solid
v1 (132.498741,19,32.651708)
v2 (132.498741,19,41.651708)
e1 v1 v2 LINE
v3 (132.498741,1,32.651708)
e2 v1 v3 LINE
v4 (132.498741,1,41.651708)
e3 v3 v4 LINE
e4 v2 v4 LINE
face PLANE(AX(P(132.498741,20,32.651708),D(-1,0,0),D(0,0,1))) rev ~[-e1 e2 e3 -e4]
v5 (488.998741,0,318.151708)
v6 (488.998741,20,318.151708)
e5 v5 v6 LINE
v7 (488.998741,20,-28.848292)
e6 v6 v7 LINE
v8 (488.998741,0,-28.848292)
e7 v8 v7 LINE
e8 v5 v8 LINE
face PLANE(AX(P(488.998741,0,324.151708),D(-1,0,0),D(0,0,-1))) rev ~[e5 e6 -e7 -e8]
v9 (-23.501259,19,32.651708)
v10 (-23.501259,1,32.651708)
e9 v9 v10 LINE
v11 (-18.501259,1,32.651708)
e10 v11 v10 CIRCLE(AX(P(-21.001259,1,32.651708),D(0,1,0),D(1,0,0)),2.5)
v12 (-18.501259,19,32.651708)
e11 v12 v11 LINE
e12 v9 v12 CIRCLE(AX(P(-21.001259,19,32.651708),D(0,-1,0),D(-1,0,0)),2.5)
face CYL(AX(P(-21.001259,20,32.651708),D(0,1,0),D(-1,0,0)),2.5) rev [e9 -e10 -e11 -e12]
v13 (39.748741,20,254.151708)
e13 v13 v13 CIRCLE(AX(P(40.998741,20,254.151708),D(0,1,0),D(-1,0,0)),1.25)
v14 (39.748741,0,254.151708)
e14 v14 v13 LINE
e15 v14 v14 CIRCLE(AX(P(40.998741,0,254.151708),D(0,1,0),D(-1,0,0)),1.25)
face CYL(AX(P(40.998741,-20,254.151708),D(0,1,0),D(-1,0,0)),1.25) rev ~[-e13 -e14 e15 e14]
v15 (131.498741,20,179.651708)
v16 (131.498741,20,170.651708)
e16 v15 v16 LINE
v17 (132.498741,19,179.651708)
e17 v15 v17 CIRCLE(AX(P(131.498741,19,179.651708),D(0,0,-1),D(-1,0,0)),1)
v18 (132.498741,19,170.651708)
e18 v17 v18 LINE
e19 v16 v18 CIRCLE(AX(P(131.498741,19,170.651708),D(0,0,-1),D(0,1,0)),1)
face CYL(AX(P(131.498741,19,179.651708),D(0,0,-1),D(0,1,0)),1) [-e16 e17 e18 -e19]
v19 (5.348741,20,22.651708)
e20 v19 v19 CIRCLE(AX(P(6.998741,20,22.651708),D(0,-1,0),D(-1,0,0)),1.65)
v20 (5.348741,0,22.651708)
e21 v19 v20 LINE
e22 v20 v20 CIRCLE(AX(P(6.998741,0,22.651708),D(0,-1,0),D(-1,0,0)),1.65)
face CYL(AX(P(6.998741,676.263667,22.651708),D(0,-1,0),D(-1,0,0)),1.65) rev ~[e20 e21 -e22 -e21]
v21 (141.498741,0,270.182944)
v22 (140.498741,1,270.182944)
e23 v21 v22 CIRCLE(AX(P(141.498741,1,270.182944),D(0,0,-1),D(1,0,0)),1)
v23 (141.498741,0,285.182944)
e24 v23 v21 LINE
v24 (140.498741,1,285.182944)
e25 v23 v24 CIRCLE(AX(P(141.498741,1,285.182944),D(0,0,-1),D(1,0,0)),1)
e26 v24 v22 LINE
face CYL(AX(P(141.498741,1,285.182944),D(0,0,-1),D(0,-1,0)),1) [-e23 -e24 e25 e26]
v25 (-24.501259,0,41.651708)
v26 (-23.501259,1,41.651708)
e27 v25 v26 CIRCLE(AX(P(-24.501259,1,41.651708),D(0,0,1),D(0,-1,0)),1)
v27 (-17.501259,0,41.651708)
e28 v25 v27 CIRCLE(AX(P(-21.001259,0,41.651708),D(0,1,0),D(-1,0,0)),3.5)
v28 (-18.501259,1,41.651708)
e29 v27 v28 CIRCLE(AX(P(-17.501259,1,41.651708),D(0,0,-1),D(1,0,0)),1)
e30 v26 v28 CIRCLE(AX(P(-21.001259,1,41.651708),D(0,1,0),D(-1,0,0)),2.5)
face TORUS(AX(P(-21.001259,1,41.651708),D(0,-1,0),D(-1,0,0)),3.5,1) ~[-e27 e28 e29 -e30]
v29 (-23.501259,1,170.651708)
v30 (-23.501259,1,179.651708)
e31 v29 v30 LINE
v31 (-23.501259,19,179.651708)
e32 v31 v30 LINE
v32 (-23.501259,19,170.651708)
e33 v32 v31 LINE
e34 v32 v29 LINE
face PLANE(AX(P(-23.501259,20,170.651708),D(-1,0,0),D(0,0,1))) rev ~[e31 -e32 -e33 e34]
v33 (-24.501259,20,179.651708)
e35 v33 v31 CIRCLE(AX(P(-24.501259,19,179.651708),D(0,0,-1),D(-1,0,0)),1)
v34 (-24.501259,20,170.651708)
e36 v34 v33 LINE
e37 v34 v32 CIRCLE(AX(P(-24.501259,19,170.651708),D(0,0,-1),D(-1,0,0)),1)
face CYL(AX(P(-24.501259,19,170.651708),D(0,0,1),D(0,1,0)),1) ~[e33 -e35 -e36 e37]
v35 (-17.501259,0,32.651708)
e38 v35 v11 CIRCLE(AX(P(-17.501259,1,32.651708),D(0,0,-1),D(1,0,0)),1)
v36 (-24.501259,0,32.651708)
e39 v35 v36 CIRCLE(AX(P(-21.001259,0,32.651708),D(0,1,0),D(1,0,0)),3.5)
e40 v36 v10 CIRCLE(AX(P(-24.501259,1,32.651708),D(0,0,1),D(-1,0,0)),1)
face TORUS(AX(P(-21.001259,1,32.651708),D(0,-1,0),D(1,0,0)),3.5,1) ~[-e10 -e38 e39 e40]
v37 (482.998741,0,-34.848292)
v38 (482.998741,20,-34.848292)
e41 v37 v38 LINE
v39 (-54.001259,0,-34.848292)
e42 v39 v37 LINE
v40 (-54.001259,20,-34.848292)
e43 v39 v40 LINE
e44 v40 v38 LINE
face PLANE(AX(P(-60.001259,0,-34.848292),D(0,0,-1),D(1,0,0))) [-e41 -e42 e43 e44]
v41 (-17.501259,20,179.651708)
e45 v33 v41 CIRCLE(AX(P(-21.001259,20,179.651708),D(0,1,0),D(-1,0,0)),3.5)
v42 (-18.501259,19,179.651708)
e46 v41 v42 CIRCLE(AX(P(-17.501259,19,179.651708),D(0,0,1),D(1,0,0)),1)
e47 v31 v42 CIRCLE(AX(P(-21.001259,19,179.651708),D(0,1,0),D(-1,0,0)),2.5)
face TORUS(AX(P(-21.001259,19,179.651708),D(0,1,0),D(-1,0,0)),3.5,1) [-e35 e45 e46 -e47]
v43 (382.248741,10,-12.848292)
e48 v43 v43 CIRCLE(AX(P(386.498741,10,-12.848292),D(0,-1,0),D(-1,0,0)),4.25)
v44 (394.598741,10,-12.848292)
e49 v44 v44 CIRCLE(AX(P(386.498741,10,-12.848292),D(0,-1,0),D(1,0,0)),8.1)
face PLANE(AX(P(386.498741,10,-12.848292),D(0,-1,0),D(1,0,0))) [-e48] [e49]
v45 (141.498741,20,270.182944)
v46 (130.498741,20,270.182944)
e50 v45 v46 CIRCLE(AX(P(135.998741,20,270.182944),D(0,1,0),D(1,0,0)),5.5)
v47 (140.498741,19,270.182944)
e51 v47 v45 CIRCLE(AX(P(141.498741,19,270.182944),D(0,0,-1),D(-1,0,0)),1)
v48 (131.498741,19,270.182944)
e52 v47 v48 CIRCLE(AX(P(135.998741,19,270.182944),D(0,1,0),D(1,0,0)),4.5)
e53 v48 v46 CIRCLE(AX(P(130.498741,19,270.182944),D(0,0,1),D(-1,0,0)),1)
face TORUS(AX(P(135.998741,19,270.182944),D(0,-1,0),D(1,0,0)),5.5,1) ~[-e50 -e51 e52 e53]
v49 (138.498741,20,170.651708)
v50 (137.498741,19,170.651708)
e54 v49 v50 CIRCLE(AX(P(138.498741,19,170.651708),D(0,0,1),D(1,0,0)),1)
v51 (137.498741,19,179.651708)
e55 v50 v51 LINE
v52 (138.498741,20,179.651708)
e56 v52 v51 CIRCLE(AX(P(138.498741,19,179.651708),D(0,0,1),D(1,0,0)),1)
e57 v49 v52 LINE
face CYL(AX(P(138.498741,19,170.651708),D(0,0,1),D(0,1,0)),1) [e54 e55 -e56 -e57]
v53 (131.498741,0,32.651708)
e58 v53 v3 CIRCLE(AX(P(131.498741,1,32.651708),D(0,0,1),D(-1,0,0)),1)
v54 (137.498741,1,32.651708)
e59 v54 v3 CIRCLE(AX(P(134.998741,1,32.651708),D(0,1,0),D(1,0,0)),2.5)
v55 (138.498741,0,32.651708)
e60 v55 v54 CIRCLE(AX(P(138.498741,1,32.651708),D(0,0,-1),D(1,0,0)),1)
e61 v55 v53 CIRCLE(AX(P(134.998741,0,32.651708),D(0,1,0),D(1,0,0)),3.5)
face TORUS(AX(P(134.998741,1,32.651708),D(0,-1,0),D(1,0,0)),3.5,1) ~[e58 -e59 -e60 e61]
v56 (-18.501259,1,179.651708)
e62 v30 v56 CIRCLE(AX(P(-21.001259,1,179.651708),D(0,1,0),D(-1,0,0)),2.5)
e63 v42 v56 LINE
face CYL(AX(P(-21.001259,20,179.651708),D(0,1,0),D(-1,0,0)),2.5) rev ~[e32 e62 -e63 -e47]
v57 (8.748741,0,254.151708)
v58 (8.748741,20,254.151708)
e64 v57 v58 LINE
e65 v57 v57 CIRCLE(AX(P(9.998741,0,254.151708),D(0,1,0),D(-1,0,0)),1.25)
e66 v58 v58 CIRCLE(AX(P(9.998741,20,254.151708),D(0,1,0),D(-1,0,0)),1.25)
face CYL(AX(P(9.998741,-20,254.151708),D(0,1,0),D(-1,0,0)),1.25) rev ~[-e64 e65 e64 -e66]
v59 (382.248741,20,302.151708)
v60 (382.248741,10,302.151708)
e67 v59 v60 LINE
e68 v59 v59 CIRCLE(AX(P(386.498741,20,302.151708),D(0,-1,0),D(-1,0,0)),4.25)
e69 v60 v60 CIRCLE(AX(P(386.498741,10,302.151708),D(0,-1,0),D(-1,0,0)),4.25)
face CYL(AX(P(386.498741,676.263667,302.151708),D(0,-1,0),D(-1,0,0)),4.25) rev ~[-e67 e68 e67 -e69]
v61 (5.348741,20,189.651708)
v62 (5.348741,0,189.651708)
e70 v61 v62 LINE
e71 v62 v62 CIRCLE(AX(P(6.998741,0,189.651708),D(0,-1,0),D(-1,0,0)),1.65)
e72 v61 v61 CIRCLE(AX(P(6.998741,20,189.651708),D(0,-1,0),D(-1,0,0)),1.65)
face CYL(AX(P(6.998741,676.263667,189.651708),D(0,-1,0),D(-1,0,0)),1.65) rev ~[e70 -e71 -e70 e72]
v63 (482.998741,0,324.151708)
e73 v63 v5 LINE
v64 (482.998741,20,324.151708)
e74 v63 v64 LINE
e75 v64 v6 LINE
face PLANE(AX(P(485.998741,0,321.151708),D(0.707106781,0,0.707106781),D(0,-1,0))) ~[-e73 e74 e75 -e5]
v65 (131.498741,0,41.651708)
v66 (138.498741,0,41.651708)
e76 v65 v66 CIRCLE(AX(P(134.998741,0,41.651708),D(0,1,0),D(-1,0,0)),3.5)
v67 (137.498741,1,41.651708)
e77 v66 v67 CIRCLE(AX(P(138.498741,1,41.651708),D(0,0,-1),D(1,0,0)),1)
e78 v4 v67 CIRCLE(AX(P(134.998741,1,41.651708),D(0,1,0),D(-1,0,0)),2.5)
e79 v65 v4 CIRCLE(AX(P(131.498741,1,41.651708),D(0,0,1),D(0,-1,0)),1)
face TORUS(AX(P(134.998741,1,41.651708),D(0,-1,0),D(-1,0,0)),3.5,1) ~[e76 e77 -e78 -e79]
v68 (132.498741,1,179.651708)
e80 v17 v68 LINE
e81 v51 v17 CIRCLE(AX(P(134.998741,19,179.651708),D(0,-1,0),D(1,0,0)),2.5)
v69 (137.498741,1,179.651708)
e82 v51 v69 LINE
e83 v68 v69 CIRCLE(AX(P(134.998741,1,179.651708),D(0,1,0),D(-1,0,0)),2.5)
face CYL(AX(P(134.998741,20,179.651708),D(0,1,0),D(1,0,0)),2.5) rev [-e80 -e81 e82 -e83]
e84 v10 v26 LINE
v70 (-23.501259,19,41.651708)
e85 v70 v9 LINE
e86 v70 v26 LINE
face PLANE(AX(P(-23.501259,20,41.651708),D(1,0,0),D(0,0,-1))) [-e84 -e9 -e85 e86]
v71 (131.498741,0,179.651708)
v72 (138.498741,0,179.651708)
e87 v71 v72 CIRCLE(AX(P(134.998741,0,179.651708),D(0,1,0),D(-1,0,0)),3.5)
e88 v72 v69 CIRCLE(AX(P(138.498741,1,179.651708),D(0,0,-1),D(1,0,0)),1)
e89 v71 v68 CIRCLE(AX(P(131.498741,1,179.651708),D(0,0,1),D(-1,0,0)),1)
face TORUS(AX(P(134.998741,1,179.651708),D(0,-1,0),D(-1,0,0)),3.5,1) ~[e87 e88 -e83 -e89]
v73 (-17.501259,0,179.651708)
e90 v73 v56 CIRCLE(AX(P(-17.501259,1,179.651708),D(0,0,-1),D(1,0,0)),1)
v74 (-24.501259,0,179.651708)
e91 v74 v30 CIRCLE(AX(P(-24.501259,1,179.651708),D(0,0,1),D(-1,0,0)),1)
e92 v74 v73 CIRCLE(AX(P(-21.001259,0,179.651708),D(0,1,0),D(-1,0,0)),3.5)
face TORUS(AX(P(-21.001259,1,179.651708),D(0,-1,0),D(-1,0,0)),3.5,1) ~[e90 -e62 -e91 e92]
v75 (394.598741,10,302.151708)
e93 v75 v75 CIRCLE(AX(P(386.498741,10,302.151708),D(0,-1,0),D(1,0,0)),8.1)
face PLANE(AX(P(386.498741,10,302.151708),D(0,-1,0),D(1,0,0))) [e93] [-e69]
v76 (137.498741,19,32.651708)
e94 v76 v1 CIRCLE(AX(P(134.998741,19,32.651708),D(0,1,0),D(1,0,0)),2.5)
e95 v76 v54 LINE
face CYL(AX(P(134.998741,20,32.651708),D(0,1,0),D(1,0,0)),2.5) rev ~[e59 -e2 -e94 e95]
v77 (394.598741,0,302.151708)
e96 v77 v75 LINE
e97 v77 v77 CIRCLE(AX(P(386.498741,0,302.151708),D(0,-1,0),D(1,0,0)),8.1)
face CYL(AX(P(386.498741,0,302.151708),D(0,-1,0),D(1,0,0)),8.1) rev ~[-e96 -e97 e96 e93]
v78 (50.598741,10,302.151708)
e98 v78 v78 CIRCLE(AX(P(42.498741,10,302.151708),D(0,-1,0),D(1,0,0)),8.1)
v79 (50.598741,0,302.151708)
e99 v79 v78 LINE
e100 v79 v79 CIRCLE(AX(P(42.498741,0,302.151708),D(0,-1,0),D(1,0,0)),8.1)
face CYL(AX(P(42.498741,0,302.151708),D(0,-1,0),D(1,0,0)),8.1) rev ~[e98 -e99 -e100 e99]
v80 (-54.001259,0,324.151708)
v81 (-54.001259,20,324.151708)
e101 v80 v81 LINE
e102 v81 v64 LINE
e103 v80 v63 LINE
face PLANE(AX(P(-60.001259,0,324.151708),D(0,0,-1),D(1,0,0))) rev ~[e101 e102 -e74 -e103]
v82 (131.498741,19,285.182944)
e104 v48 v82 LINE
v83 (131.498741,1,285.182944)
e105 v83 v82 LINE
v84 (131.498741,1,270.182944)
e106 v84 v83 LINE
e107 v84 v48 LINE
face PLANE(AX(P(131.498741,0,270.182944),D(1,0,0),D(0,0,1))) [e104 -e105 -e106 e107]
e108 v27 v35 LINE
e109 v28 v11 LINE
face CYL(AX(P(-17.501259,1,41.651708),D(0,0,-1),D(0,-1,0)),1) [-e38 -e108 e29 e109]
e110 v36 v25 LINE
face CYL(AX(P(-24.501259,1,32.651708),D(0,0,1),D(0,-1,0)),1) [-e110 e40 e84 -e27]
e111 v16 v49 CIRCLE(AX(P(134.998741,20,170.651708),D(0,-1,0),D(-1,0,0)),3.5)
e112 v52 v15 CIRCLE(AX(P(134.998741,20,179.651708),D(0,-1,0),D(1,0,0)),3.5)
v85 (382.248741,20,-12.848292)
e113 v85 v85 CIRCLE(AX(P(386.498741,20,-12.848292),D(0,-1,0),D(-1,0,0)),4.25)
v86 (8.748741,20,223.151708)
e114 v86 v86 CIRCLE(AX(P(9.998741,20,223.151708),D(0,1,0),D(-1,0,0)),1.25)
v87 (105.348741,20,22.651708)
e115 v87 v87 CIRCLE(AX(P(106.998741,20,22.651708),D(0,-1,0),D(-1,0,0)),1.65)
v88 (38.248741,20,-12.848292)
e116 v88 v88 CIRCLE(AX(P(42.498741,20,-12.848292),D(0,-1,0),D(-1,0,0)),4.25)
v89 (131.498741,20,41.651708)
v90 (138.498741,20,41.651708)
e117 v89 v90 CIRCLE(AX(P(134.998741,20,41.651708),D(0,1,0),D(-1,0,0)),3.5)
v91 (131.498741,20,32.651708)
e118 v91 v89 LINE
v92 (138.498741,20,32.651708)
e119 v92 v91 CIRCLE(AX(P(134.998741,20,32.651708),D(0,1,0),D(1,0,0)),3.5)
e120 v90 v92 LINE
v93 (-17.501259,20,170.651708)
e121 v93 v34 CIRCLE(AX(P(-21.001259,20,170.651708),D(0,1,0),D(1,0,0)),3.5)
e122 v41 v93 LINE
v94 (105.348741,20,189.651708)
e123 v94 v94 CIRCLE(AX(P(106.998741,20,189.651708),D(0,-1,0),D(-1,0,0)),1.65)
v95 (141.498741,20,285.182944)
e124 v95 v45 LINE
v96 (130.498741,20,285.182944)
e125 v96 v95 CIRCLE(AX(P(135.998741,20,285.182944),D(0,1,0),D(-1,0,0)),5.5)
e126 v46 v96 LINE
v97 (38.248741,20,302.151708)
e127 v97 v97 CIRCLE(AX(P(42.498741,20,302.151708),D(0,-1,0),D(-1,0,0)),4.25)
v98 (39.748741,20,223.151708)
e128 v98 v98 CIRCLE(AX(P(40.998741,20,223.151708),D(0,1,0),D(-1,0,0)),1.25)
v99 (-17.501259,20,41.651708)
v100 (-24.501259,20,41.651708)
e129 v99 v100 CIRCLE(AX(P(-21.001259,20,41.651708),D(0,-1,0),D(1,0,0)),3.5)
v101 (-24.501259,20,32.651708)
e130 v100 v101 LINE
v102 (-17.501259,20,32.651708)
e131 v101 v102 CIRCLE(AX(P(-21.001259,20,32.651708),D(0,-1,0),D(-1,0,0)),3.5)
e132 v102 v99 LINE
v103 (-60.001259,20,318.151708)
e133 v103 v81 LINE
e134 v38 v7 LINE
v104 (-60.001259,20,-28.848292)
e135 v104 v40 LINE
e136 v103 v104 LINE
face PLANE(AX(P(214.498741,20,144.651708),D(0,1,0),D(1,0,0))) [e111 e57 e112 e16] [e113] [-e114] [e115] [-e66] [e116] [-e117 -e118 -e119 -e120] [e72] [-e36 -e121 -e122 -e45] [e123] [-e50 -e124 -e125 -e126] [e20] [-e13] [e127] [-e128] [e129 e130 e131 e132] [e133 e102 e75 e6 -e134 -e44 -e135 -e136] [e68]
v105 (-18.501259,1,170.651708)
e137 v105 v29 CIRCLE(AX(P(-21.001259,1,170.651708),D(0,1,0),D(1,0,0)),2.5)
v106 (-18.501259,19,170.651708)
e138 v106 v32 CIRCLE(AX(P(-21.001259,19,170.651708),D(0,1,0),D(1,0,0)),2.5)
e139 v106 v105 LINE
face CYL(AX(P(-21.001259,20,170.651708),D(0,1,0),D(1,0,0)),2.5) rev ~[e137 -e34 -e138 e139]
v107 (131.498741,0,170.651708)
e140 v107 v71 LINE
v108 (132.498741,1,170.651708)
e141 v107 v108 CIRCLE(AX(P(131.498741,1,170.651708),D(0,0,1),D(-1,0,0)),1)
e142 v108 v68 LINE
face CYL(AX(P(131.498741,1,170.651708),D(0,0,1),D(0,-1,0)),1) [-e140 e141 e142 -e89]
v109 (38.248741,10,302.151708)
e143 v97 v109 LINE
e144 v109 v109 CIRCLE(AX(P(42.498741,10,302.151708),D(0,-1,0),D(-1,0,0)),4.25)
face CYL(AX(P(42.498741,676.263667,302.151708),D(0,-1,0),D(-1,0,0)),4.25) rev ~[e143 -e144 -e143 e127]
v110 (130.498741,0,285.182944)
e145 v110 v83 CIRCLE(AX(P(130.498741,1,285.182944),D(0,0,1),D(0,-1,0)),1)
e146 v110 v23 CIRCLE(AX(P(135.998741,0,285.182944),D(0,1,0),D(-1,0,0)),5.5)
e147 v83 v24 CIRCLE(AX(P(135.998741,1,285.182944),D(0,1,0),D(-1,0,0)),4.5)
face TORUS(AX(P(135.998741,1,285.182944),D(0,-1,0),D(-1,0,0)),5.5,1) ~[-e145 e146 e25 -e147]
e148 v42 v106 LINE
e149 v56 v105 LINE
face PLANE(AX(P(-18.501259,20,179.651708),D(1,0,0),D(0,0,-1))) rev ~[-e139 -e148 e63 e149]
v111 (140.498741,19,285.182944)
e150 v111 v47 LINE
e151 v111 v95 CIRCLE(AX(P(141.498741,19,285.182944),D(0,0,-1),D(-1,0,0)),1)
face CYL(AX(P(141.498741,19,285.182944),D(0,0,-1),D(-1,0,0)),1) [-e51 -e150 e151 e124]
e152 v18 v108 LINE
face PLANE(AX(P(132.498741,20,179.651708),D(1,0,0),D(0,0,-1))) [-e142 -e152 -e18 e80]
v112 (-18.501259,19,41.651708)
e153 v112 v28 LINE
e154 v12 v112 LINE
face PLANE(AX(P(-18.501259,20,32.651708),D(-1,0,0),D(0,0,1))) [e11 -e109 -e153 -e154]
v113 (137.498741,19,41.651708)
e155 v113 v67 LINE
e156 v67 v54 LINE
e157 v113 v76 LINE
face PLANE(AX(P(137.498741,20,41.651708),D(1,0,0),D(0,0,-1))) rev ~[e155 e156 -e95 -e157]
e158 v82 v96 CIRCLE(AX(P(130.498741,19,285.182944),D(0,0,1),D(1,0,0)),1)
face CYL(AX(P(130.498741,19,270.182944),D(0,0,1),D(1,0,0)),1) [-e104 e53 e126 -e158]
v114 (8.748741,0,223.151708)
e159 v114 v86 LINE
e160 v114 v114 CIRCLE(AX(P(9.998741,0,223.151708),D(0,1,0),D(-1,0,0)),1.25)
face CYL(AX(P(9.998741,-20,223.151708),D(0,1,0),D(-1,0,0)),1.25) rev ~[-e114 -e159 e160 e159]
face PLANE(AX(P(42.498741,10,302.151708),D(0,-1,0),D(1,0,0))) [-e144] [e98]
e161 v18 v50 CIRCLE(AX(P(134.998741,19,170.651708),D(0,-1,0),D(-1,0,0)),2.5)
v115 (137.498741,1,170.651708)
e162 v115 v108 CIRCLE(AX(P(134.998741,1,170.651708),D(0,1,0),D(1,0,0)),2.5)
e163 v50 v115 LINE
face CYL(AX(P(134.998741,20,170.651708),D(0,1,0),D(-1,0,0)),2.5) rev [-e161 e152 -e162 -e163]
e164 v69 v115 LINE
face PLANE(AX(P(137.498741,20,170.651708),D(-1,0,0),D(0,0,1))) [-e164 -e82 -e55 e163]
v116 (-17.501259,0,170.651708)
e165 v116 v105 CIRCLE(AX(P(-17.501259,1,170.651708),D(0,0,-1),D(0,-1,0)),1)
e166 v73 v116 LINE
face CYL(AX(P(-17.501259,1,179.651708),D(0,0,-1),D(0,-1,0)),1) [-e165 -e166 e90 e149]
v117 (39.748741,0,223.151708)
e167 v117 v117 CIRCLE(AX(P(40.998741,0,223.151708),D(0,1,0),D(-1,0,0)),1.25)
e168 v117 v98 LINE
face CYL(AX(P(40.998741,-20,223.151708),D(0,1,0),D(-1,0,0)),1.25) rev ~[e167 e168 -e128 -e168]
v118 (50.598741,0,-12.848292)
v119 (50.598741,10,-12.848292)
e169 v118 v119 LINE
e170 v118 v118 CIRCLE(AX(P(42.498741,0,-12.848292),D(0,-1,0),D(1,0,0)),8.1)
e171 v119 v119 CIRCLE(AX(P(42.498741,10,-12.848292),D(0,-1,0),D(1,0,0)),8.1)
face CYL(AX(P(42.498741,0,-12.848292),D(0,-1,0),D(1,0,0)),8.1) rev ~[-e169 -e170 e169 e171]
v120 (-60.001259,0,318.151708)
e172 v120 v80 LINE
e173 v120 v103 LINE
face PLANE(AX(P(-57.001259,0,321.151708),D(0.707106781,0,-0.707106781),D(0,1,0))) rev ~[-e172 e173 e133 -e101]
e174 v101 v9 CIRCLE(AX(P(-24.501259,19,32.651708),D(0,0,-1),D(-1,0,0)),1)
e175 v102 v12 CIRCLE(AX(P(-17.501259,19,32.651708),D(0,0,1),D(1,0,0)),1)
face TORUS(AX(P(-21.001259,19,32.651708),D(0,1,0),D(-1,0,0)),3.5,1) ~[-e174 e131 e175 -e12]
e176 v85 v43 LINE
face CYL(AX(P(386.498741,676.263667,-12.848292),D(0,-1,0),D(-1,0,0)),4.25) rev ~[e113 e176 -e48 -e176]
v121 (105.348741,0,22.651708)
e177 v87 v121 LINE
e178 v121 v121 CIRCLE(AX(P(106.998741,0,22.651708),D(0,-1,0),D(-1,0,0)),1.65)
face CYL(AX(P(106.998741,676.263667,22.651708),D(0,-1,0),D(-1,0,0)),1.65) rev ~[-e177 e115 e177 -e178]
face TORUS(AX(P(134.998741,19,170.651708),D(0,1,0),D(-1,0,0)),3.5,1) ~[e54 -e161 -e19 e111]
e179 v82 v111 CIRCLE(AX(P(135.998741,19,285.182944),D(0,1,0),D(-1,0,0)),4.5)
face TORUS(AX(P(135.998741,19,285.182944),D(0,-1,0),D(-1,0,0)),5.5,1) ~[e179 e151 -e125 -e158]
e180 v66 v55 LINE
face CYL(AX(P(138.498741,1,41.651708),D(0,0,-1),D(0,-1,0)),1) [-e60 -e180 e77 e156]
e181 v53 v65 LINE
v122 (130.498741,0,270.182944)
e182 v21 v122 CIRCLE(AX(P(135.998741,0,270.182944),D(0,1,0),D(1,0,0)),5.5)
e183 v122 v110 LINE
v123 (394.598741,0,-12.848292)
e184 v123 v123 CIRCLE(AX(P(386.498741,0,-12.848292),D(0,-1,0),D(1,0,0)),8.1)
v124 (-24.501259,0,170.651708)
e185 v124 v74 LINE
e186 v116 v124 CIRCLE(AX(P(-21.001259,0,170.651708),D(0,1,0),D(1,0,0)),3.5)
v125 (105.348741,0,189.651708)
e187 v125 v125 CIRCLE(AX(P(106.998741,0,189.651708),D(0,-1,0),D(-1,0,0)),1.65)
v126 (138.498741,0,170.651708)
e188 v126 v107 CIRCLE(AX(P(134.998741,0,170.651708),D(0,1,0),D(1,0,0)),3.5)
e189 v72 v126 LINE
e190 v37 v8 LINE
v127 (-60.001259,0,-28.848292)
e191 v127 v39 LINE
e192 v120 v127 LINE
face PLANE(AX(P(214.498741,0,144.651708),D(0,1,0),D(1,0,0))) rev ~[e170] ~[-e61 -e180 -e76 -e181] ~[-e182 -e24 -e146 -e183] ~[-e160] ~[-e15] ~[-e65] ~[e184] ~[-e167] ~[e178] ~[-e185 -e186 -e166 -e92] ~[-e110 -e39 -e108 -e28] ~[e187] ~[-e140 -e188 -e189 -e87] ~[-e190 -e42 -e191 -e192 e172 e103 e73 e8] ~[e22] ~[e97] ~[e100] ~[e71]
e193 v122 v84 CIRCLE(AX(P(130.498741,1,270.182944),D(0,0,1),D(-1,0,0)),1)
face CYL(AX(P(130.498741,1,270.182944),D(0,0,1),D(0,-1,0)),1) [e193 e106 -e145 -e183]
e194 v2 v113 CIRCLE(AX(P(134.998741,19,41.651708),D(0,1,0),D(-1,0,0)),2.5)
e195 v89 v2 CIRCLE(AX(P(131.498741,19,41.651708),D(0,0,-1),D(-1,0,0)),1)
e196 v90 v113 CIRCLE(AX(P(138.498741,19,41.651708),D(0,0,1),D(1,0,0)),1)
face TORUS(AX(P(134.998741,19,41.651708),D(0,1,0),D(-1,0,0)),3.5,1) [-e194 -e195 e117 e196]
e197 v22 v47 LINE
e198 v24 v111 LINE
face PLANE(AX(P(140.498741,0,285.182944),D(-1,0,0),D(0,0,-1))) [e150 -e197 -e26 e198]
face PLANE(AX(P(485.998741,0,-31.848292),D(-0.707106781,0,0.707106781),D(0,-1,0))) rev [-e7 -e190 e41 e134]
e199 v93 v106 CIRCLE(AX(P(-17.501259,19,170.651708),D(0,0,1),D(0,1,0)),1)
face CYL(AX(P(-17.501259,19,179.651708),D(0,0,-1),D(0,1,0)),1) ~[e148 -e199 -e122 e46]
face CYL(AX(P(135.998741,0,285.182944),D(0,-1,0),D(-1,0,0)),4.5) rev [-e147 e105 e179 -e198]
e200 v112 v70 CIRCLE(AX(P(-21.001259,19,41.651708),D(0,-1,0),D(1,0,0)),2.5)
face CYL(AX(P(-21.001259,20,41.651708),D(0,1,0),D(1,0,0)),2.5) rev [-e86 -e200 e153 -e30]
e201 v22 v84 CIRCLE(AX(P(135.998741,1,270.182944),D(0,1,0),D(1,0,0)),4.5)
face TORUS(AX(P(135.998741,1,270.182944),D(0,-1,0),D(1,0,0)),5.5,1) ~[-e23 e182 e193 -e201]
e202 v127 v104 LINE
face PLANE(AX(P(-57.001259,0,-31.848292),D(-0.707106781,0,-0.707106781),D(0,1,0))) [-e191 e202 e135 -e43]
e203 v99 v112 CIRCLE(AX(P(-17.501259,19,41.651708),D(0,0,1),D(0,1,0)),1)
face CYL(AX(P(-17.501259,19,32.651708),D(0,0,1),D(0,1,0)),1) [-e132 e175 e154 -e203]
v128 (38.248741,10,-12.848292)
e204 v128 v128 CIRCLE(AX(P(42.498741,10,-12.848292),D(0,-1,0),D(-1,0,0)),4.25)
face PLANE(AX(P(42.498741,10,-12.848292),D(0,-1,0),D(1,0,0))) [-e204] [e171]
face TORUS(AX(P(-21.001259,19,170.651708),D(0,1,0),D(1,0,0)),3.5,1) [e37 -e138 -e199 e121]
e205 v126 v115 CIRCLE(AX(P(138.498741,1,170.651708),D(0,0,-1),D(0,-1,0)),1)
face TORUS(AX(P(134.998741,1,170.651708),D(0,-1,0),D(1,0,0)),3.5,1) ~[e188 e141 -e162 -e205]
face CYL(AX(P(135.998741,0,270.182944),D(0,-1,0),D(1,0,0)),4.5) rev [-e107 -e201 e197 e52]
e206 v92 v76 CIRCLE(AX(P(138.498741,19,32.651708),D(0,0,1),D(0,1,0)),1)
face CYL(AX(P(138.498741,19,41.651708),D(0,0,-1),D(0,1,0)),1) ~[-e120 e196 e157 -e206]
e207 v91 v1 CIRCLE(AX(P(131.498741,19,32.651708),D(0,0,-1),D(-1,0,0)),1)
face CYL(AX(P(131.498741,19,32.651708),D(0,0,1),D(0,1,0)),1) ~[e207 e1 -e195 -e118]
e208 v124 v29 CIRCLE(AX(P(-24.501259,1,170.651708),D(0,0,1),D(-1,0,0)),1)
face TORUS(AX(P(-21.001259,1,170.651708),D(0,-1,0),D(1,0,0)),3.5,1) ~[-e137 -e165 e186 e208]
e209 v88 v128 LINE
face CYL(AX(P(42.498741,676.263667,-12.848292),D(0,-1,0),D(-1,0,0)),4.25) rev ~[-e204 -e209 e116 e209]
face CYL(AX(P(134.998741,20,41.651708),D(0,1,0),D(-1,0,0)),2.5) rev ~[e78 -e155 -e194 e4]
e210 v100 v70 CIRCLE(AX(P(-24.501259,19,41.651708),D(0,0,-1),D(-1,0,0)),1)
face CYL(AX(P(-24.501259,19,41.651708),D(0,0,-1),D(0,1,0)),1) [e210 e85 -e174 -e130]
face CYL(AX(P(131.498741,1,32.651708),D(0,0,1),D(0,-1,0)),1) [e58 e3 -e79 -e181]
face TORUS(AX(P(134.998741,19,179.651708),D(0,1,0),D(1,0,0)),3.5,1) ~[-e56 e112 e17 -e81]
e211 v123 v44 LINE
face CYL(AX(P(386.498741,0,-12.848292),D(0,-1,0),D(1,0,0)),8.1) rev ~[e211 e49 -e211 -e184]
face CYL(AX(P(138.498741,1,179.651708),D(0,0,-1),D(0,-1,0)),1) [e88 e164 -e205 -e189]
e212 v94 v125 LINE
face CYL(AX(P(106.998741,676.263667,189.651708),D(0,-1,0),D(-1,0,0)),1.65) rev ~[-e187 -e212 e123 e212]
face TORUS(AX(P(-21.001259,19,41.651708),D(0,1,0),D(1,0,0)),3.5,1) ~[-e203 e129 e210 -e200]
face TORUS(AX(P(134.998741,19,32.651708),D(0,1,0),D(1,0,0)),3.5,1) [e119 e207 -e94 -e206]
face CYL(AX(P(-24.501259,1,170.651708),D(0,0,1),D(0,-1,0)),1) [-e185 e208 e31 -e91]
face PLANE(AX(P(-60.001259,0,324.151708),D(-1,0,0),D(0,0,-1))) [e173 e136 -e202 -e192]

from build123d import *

# Parameters (mm, degrees)
SKETCH_1_W               = 549
SKETCH_1_H               = 359
EXTRUDE_1_DEPTH          = 20
HOLE_WIZARD_M10_1_D      = 8.5
HOLE_WIZARD_M4_1_D       = 3.3
CUT_EXTRUDE_1_DEPTH      = 1
CUT_EXTRUDE_1_DEPTH_BACK = 21
CHAMFER_1_SIZE           = 6
FILLET_2_R               = 1
CUT_EXTRUDE_4_DEPTH      = 20
HOLE_WIZARD_M3_2_D       = 2.5
HOLE_WIZARD_M3_2_DEPTH   = 20
FILLET_4_R               = 1
SKETCH_20_R              = 8.1
CUT_EXTRUDE_5_DEPTH      = 10


with BuildPart() as part:
    # 草图1 → 凸台-拉伸1 (new body)
    with BuildSketch(Plane(origin=(0, 0, 0), x_dir=(1, 0, 0), z_dir=(0, 1, 0))):
        with Locations((214.498740765, -144.65170767)):
            Rectangle(SKETCH_1_W, SKETCH_1_H)
    extrude(amount=EXTRUDE_1_DEPTH)

    # M10 螺纹孔1 (through all)
    with Locations(Plane(origin=(0, 20, 0), x_dir=(1, 0, 0), z_dir=(0, 1, 0))):
        with Locations((386.498740765, -302.15170767), (42.498740765, 12.84829233), (386.498740765, 12.84829233), (42.498740765, -302.15170767)):
            Hole(HOLE_WIZARD_M10_1_D / 2)

    # M4 螺纹孔1 (through all)
    with Locations(Plane(origin=(0, 20, 0), x_dir=(1, 0, 0), z_dir=(0, 1, 0))):
        with Locations((6.998740765, -189.65170767), (6.998740765, -22.65170767), (106.998740765, -22.65170767), (106.998740765, -189.65170767)):
            Hole(HOLE_WIZARD_M4_1_D / 2)

    # 草图9 → 切除-拉伸1 (cut, two sides)
    with BuildSketch(Plane(origin=(0, 20, 0), x_dir=(1, 0, 0), z_dir=(0, 1, 0))) as cut_extrude_1_sk:
        with BuildLine():
            Line((-18.501259235, -32.65170767), (-18.501259235, -41.65170767))
            ThreePointArc((-18.501259235, -41.65170767), (-21.001259235, -44.15170767), (-23.501259235, -41.65170767))
            Line((-23.501259235, -41.65170767), (-23.501259235, -32.65170767))
            ThreePointArc((-23.501259235, -32.65170767), (-21.001259235, -30.15170767), (-18.501259235, -32.65170767))
        make_face()
        with BuildLine():
            Line((132.498740765, -32.65170767), (132.498740765, -41.65170767))
            ThreePointArc((132.498740765, -41.65170767), (134.998740765, -44.15170767), (137.498740765, -41.65170767))
            Line((137.498740765, -41.65170767), (137.498740765, -32.65170767))
            ThreePointArc((137.498740765, -32.65170767), (134.998740765, -30.15170767), (132.498740765, -32.65170767))
        make_face()
        with BuildLine():
            Line((132.498740765, -179.65170767), (132.498740765, -170.65170767))
            ThreePointArc((132.498740765, -170.65170767), (134.998740765, -168.15170767), (137.498740765, -170.65170767))
            Line((137.498740765, -170.65170767), (137.498740765, -179.65170767))
            ThreePointArc((137.498740765, -179.65170767), (134.998740765, -182.15170767), (132.498740765, -179.65170767))
        make_face()
        with BuildLine():
            Line((-18.501259235, -179.65170767), (-18.501259235, -170.65170767))
            ThreePointArc((-18.501259235, -170.65170767), (-21.001259235, -168.15170767), (-23.501259235, -170.65170767))
            Line((-23.501259235, -170.65170767), (-23.501259235, -179.65170767))
            ThreePointArc((-23.501259235, -179.65170767), (-21.001259235, -182.15170767), (-18.501259235, -179.65170767))
        make_face()
    extrude(amount=CUT_EXTRUDE_1_DEPTH, mode=Mode.SUBTRACT)
    extrude(cut_extrude_1_sk.sketch, amount=-CUT_EXTRUDE_1_DEPTH_BACK, mode=Mode.SUBTRACT)

    # 倒角1
    chamfer_1_edges = [part.edges().sort_by_distance(p)[0] for p in [
        (-60.001259235, 10, -34.84829233),
        (488.998740765, 10, -34.84829233),
        (488.998740765, 10, 324.15170767),
        (-60.001259235, 10, 324.15170767),
    ]]
    chamfer(chamfer_1_edges, length=CHAMFER_1_SIZE)

    # 圆角2
    fillet_2_edges = [part.edges().sort_by_distance(p)[0] for p in [
        (134.998740765, 20, 44.15170767),
        (137.498740765, 20, 37.15170767),
        (-21.001259235, 0, 30.15170767),
        (-18.501259235, 0, 37.15170767),
        (-21.001259235, 0, 44.15170767),
        (-23.501259235, 0, 37.15170767),
        (-21.001259235, 20, 30.15170767),
        (-23.501259235, 20, 37.15170767),
        (-21.001259235, 20, 44.15170767),
        (-18.501259235, 20, 37.15170767),
        (-21.001259235, 0, 182.15170767),
        (-23.501259235, 0, 175.15170767),
        (-21.001259235, 0, 168.15170767),
        (-18.501259235, 0, 175.15170767),
        (-21.001259235, 20, 182.15170767),
        (-18.501259235, 20, 175.15170767),
        (-21.001259235, 20, 168.15170767),
        (-23.501259235, 20, 175.15170767),
        (134.998740765, 0, 182.15170767),
        (132.498740765, 0, 175.15170767),
        (134.998740765, 0, 168.15170767),
        (137.498740765, 0, 175.15170767),
        (134.998740765, 20, 182.15170767),
        (137.498740765, 20, 175.15170767),
        (134.998740765, 20, 168.15170767),
        (132.498740765, 20, 175.15170767),
        (134.998740765, 0, 30.15170767),
        (137.498740765, 0, 37.15170767),
        (134.998740765, 0, 44.15170767),
        (132.498740765, 0, 37.15170767),
        (134.998740765, 20, 30.15170767),
        (132.498740765, 20, 37.15170767),
    ]]
    fillet(fillet_2_edges, radius=FILLET_2_R)

    # 草图16 → 切除-拉伸4 (cut)
    with BuildSketch(Plane.XZ):
        with BuildLine():
            Line((131.498740765, 270.182944489), (131.498740765, 285.182944489))
            ThreePointArc((131.498740765, 285.182944489), (135.998740765, 289.682944489), (140.498740765, 285.182944489))
            Line((140.498740765, 285.182944489), (140.498740765, 270.182944489))
            ThreePointArc((140.498740765, 270.182944489), (135.998740765, 265.682944489), (131.498740765, 270.182944489))
        make_face()
    extrude(amount=-CUT_EXTRUDE_4_DEPTH, mode=Mode.SUBTRACT)

    # M3 螺纹孔2
    with Locations(Plane.XZ):
        with Locations((9.998740765, 254.15170767), (40.998740765, 254.15170767), (9.998740765, 223.15170767), (40.998740765, 223.15170767)):
            Hole(HOLE_WIZARD_M3_2_D / 2, depth=HOLE_WIZARD_M3_2_DEPTH)

    # 圆角4
    fillet_4_edges = [part.edges().sort_by_distance(p)[0] for p in [
        (135.998740765, 0, 265.682944489),
        (140.498740765, 0, 277.682944489),
        (135.998740765, 0, 289.682944489),
        (131.498740765, 0, 277.682944489),
        (140.498740765, 20, 277.682944489),
        (135.998740765, 20, 289.682944489),
        (131.498740765, 20, 277.682944489),
        (135.998740765, 20, 265.682944489),
    ]]
    fillet(fillet_4_edges, radius=FILLET_4_R)

    # 草图20 → 切除-拉伸5 (cut)
    with BuildSketch(Plane.XZ):
        with Locations((42.498740765, 302.15170767)):
            Circle(SKETCH_20_R)
        with Locations((386.498740765, 302.15170767)):
            Circle(SKETCH_20_R)
        with Locations((386.498740765, -12.84829233)):
            Circle(SKETCH_20_R)
        with Locations((42.498740765, -12.84829233)):
            Circle(SKETCH_20_R)
    extrude(amount=-CUT_EXTRUDE_5_DEPTH, mode=Mode.SUBTRACT)


solid = part.part
